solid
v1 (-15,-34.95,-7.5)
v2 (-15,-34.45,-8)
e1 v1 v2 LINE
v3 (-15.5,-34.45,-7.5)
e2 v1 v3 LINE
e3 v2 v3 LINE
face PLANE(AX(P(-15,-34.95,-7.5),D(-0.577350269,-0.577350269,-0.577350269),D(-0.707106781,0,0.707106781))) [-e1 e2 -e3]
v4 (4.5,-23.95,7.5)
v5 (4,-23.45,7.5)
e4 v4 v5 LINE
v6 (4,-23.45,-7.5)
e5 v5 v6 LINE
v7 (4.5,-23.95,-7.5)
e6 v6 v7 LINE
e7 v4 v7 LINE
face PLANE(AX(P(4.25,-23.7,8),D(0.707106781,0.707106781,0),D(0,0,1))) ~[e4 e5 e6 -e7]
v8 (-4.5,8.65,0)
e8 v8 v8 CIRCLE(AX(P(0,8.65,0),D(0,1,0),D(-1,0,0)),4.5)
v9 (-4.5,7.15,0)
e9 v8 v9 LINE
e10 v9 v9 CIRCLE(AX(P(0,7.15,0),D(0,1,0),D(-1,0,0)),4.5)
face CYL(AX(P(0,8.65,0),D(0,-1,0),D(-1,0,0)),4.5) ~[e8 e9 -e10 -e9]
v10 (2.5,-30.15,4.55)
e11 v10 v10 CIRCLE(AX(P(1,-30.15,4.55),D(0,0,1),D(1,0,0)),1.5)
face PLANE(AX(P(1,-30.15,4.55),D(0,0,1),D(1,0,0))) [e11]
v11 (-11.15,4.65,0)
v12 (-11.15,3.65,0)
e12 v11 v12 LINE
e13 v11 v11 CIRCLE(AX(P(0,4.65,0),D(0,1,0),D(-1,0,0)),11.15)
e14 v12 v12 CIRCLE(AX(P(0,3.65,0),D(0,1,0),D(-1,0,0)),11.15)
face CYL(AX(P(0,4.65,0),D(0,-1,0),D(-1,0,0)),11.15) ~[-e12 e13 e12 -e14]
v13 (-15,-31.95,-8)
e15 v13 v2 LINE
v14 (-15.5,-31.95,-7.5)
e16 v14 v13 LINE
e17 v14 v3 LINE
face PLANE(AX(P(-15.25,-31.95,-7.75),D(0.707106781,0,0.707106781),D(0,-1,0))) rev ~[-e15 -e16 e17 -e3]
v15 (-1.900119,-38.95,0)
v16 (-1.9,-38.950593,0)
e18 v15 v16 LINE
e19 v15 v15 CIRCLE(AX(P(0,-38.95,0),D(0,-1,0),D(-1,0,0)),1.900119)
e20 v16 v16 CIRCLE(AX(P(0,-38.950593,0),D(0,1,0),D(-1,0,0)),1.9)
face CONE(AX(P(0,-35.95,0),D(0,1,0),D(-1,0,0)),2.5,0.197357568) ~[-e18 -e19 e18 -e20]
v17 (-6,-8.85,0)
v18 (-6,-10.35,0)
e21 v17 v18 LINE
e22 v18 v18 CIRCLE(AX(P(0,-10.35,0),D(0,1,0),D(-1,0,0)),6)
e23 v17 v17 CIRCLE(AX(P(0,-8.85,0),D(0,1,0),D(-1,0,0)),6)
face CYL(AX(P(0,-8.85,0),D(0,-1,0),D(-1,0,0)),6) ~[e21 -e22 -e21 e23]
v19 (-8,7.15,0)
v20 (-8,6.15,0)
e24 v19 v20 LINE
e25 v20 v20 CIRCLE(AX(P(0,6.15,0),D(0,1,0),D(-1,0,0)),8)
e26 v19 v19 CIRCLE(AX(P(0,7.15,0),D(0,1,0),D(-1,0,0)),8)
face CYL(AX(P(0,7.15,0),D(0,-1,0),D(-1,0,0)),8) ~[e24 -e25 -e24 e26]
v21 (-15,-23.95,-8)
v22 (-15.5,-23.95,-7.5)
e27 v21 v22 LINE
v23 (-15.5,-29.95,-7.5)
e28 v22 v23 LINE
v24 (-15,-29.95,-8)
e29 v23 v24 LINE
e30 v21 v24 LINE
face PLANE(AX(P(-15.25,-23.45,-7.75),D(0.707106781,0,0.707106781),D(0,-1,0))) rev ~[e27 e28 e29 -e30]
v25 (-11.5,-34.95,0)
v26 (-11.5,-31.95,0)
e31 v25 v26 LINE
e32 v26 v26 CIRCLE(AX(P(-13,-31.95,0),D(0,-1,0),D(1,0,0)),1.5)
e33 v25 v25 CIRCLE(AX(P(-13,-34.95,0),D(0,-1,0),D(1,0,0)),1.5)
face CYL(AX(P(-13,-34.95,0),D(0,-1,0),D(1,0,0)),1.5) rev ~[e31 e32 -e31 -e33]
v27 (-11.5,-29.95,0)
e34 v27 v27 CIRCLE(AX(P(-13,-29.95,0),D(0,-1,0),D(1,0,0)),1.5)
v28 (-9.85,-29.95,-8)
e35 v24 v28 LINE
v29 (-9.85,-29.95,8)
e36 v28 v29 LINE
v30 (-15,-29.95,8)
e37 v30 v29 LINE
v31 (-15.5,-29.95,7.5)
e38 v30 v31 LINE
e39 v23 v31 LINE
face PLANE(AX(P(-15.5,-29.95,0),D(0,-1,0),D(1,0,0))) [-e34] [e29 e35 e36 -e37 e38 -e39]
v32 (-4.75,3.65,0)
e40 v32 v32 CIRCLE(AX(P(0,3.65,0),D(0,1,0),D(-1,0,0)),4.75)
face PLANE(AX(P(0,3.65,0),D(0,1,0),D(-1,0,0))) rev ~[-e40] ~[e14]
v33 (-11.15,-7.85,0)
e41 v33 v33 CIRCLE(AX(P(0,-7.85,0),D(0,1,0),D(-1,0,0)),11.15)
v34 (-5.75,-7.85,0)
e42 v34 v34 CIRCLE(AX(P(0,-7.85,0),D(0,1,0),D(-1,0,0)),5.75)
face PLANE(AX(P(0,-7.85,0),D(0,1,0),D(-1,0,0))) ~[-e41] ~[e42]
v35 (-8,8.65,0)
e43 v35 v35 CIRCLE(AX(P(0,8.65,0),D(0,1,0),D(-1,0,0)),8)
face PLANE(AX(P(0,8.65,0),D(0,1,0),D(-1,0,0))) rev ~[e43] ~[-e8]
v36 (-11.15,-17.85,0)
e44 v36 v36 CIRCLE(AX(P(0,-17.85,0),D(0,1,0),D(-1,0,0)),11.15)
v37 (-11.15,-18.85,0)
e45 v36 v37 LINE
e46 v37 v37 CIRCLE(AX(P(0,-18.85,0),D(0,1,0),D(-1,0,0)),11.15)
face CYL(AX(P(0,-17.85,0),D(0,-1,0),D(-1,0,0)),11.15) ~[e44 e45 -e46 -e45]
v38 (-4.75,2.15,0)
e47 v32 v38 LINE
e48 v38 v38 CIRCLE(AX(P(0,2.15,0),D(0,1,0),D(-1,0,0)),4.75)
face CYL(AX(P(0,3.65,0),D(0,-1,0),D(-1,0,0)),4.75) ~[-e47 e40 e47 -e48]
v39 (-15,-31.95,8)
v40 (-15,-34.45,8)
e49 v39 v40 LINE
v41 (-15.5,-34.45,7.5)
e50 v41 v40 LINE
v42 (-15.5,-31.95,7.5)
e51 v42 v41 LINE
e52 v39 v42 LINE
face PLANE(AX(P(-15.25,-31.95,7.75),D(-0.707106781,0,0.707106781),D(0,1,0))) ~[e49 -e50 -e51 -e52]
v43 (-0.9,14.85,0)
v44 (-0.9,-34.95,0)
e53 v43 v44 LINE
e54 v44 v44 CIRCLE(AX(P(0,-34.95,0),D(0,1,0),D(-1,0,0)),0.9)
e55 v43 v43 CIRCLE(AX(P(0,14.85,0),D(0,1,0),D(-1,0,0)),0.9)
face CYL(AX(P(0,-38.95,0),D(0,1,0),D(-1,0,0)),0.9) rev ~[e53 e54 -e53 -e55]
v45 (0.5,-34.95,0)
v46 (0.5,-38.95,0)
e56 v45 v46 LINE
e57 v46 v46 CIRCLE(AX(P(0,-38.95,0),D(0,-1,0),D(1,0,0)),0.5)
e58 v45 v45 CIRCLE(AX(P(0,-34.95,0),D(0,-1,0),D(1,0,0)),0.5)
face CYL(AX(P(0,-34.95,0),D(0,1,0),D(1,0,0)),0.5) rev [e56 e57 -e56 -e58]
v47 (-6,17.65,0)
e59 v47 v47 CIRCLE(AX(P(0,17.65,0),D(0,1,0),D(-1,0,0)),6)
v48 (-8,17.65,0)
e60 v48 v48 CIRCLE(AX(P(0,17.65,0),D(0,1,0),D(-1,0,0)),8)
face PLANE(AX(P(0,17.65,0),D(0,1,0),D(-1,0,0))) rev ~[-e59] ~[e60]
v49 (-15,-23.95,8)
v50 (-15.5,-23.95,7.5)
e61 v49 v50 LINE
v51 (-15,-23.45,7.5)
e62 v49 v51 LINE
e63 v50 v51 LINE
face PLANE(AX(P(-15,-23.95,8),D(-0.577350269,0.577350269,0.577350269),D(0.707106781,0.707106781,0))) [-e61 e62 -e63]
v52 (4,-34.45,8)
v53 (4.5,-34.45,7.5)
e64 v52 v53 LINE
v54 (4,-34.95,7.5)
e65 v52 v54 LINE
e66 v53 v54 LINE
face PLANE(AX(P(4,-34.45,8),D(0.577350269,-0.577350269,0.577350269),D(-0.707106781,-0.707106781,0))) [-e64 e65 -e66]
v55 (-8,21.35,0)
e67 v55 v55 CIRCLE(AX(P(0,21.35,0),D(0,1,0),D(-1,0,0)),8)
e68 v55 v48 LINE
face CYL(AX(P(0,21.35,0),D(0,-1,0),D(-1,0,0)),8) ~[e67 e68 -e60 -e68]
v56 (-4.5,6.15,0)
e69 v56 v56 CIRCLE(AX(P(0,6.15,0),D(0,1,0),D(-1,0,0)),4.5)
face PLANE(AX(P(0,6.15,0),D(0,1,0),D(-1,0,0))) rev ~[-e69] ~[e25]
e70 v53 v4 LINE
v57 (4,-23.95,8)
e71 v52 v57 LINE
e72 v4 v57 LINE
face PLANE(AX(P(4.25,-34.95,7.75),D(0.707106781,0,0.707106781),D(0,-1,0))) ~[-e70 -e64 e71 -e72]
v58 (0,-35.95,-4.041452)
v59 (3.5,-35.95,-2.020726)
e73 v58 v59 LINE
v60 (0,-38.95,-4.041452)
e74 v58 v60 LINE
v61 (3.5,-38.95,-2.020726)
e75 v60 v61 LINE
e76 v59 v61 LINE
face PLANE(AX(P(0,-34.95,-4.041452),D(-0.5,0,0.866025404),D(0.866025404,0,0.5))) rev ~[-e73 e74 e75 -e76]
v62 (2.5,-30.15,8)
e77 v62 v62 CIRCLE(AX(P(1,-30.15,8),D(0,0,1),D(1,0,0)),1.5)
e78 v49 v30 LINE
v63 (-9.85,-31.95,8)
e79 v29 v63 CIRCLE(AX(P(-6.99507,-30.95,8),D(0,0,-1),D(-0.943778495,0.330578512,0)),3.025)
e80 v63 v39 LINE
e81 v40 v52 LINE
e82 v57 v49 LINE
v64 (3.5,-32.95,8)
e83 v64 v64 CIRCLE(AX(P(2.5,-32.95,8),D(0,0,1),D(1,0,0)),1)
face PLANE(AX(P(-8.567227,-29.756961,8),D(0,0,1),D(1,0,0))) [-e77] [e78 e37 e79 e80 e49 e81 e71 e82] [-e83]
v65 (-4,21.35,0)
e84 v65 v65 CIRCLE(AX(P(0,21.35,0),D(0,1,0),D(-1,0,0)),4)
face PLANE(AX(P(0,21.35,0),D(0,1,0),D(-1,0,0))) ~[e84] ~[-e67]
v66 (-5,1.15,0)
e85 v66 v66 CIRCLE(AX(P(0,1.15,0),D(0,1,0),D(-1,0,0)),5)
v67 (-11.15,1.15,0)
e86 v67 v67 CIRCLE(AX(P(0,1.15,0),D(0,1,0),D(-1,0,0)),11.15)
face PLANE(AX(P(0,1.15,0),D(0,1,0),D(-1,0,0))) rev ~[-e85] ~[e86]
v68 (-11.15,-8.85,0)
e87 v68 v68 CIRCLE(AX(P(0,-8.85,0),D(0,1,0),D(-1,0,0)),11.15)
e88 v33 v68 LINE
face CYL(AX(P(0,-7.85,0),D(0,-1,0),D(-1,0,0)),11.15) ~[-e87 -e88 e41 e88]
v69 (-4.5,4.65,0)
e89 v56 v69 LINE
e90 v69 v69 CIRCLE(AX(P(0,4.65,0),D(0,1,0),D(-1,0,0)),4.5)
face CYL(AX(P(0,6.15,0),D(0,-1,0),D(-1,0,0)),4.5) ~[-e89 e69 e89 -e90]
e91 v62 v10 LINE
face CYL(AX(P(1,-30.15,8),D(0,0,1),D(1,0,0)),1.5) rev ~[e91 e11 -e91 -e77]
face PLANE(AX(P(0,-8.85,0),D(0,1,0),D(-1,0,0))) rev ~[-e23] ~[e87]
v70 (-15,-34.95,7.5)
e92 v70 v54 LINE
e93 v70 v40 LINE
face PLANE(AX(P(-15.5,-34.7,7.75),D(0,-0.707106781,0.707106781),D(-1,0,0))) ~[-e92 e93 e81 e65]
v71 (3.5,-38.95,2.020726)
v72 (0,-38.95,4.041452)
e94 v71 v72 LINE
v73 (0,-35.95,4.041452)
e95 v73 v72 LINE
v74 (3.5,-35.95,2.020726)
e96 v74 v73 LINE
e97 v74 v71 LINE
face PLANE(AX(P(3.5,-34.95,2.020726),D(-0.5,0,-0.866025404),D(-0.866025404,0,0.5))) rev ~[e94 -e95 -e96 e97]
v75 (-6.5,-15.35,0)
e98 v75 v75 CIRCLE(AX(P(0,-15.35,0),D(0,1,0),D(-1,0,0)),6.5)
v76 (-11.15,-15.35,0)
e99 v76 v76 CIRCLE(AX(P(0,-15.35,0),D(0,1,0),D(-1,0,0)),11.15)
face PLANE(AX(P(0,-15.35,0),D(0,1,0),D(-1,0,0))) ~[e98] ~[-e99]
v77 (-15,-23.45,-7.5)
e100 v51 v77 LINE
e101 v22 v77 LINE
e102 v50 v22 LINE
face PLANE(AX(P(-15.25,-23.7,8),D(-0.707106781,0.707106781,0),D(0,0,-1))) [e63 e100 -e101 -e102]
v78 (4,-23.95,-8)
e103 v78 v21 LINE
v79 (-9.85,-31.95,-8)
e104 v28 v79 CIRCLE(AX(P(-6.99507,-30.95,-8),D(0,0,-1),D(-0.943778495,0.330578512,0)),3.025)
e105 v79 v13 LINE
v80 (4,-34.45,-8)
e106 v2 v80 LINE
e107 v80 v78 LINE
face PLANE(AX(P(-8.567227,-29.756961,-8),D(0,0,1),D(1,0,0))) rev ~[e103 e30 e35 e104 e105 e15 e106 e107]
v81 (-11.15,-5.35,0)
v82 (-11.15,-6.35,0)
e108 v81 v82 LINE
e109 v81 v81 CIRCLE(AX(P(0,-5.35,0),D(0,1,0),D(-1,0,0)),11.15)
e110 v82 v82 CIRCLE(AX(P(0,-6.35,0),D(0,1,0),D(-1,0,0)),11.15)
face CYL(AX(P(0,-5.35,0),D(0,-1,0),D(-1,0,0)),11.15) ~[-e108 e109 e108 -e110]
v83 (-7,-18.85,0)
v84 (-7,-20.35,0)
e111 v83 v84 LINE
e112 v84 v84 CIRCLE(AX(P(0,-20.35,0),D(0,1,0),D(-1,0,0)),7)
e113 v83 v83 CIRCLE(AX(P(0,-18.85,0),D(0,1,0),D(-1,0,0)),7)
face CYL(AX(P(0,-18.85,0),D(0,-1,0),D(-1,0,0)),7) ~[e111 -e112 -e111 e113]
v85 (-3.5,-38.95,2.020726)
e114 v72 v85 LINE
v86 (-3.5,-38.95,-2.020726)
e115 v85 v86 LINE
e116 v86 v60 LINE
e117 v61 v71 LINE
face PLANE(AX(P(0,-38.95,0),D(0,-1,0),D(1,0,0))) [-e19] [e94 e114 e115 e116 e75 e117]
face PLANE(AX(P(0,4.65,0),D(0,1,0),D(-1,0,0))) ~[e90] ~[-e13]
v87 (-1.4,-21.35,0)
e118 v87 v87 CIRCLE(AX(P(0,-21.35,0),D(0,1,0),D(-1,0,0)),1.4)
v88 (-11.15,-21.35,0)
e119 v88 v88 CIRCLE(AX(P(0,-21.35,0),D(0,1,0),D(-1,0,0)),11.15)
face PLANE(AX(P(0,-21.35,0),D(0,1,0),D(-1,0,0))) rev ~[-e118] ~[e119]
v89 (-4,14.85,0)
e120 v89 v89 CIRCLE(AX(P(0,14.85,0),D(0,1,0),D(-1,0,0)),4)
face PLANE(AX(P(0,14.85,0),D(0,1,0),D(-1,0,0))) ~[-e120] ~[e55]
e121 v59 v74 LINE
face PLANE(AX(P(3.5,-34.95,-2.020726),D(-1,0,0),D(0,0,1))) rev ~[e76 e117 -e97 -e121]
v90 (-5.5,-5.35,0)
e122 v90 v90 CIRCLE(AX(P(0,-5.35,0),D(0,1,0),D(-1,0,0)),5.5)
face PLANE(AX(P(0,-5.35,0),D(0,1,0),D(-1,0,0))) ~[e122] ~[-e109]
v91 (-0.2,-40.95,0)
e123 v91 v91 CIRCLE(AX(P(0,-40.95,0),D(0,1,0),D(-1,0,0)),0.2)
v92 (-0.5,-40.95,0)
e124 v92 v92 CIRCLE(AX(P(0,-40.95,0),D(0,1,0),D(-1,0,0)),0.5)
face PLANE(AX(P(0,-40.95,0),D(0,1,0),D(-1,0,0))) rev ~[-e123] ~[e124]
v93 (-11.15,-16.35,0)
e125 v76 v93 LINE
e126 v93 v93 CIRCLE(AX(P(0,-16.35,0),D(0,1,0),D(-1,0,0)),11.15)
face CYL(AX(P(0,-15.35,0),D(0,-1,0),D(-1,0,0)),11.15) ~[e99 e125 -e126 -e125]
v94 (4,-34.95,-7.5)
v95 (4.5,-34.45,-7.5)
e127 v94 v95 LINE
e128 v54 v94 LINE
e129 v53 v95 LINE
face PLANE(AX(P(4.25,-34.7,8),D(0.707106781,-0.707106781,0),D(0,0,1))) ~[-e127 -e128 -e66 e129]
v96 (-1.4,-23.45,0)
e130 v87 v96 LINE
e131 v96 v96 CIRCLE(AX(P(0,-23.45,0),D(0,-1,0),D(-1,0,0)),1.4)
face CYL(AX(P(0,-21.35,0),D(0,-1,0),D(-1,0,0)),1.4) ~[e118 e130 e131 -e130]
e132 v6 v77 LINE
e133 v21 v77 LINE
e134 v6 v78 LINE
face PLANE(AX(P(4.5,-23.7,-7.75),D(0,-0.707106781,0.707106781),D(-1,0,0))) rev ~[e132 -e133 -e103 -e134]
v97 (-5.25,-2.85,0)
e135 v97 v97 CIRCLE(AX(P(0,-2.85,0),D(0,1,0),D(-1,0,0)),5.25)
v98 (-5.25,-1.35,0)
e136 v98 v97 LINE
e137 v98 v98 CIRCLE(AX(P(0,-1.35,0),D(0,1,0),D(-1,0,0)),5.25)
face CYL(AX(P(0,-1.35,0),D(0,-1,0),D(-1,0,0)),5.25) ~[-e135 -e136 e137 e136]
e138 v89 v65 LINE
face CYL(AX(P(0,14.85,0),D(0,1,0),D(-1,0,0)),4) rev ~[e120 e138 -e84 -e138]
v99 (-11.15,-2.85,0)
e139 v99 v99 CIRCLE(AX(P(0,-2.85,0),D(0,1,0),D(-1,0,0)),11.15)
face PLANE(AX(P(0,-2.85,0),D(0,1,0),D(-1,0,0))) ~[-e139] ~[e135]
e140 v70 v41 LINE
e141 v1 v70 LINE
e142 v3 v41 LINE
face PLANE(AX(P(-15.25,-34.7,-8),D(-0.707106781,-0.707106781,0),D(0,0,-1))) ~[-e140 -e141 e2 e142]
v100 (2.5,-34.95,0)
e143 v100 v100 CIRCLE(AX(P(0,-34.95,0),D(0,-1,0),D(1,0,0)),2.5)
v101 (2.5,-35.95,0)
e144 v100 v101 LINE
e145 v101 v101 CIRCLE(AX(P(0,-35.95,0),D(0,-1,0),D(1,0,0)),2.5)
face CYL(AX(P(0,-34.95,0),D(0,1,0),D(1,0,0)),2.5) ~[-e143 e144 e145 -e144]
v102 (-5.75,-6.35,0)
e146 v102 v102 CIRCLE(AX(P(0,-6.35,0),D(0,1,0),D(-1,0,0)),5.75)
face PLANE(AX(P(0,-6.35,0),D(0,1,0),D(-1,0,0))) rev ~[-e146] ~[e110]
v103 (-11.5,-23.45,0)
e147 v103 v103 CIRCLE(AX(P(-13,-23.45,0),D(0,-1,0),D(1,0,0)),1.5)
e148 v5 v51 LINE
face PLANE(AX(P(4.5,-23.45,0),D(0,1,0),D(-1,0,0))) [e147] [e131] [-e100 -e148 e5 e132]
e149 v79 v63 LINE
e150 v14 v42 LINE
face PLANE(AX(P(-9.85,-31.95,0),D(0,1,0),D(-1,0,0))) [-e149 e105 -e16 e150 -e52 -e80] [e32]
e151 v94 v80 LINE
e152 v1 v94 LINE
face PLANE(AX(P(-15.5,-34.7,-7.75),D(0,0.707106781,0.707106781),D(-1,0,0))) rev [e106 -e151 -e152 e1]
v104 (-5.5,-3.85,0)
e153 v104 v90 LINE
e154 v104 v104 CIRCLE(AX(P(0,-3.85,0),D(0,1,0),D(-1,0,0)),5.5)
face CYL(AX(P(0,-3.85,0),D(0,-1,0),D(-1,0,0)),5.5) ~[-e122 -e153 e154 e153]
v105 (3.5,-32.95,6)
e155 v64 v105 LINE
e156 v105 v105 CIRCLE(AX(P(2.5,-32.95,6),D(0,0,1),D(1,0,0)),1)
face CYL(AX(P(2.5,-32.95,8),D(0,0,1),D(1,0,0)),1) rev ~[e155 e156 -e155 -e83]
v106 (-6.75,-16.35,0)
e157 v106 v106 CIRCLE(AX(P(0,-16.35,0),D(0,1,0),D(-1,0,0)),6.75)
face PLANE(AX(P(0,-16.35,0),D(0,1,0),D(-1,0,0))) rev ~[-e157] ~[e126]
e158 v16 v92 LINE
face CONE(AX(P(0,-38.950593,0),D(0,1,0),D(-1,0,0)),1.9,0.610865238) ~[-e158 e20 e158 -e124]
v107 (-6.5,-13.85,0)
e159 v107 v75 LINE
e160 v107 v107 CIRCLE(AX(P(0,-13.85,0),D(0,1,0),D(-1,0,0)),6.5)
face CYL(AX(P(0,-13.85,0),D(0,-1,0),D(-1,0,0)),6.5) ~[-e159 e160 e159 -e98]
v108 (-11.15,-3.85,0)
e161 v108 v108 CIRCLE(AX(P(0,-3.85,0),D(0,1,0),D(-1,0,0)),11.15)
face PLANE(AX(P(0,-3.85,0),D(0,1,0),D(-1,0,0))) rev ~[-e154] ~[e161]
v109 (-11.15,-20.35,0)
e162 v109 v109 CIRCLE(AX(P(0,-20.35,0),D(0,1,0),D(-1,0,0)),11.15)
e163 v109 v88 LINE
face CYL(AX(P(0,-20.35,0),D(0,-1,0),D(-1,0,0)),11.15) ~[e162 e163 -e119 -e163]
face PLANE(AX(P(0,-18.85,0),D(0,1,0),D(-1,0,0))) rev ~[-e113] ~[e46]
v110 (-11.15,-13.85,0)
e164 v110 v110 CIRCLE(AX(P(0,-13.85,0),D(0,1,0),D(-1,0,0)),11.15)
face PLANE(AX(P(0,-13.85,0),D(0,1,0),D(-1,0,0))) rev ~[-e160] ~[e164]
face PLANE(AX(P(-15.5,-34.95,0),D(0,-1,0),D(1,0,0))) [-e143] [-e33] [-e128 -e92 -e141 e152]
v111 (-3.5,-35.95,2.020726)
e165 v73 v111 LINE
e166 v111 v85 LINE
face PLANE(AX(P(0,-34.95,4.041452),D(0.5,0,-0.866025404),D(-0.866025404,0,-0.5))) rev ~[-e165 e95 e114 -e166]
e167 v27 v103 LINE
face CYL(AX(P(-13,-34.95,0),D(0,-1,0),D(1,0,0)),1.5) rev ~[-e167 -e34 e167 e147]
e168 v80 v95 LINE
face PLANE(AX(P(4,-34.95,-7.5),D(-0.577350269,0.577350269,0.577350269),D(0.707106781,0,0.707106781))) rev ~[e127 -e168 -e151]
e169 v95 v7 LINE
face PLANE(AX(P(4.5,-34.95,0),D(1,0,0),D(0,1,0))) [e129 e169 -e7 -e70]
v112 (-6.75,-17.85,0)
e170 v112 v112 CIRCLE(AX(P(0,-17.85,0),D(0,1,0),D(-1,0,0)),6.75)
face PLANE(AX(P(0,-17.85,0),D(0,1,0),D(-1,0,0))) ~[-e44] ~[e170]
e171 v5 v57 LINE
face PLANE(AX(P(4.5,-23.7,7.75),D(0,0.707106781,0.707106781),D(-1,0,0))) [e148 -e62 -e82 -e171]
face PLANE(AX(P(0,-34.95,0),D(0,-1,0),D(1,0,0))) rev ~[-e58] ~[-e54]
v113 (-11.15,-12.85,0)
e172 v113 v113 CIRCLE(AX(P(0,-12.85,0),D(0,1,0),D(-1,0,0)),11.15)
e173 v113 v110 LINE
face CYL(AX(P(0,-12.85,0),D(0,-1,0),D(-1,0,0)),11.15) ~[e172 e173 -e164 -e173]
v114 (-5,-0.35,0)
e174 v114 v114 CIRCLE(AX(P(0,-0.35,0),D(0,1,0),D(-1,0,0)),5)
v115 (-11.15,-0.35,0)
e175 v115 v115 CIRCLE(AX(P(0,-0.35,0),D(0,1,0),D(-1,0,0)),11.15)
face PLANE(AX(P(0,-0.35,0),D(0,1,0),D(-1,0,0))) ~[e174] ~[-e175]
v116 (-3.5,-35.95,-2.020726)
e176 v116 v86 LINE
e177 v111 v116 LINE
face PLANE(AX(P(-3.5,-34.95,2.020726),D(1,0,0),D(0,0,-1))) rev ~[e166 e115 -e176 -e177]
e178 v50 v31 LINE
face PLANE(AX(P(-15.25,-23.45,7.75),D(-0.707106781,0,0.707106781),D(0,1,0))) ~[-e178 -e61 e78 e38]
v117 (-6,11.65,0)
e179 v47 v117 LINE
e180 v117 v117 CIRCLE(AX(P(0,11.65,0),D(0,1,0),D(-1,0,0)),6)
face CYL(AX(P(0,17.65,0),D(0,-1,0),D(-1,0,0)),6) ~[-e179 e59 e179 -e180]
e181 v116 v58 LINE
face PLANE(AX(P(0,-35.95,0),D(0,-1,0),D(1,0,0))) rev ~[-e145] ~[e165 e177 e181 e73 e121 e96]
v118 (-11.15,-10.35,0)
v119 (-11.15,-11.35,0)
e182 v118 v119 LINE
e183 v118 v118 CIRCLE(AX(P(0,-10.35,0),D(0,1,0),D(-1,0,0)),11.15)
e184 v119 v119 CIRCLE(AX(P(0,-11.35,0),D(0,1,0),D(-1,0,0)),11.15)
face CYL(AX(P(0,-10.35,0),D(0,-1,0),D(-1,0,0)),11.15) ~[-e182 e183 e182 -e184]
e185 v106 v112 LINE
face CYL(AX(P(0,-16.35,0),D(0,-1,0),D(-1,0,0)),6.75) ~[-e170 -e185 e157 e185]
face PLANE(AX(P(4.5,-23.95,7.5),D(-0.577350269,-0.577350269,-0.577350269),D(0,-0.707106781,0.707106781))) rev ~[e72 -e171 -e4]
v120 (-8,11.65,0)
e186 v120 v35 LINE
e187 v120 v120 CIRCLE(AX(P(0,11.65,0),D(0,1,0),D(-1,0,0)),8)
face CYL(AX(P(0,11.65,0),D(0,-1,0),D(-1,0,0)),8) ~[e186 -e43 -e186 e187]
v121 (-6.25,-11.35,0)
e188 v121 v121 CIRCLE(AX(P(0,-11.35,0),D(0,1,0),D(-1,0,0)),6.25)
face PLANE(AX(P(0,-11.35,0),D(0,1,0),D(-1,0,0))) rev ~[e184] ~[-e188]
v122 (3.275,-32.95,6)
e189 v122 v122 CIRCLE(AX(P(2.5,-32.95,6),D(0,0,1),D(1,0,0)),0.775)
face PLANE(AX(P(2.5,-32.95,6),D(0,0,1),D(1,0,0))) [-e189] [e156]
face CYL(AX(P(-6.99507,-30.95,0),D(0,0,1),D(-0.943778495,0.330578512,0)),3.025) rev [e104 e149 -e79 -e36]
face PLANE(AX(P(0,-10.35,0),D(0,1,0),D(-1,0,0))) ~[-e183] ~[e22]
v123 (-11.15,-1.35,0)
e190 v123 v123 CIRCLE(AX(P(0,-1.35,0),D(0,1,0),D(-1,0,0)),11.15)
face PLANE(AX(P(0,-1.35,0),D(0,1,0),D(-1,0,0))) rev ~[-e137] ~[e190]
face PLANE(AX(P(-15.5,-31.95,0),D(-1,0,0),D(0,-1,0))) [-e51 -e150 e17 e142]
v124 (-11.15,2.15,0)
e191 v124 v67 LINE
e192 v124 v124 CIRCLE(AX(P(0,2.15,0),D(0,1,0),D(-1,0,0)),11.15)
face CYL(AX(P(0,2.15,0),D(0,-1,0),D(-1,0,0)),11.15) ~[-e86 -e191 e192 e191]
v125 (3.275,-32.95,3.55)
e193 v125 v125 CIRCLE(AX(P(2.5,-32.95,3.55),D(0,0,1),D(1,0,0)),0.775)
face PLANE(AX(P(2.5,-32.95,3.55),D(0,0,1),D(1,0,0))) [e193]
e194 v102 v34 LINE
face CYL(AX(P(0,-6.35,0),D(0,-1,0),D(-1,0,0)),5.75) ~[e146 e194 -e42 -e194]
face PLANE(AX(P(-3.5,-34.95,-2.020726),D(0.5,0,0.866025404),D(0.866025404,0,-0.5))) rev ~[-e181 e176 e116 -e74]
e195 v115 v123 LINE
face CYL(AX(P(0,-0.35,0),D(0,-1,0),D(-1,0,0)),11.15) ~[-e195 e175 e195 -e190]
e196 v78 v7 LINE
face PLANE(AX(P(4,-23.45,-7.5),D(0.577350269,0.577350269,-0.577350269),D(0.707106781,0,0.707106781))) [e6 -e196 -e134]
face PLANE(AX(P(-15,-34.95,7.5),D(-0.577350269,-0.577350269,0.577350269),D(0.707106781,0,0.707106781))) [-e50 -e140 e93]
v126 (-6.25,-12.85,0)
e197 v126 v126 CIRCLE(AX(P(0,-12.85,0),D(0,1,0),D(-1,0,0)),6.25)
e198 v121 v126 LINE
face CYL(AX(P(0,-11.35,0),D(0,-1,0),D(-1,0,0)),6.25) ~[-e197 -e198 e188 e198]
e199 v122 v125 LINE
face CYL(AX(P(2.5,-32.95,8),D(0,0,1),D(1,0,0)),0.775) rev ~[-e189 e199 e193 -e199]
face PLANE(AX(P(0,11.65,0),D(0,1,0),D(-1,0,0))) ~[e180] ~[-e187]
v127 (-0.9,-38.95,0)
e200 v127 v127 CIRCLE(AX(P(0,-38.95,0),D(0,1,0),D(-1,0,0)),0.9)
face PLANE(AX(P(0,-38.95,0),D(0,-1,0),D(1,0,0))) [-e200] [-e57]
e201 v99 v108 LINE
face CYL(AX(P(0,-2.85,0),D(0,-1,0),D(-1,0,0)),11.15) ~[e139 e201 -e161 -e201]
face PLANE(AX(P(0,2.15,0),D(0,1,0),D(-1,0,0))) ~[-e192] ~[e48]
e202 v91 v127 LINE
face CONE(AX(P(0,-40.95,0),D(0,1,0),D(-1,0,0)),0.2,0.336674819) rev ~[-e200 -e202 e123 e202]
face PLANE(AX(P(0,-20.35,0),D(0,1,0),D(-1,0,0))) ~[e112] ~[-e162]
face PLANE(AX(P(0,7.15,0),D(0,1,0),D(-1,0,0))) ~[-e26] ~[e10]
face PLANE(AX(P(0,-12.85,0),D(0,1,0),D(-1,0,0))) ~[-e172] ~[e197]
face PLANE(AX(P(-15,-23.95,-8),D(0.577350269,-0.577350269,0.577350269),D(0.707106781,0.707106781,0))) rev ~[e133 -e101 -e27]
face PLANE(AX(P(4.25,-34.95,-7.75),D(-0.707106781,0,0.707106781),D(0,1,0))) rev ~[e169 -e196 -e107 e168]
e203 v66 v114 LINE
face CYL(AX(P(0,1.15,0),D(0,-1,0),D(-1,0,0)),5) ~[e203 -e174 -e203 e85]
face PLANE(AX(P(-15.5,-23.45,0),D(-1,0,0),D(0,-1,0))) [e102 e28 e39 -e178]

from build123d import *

# Parameters (mm, degrees)
F0_W          = 4.5
F0_H          = 11.5
F0_W_2        = 0.5
F0_W_3        = 0.9
F1_DEPTH      = 8
F1_DEPTH_BACK = 8
F4_SIZE       = 0.5
F5_R          = 1.5
F6_DEPTH      = 3.45
F5_R_2        = 0.775
F7_DEPTH      = 4.45
F5_R_3        = 1
F8_DEPTH      = 2
F9_R          = 1.5
F10_DEPTH     = 11.6
F9_R_2        = 2.5
F9_R_3        = 0.5
F11_DEPTH     = 4
F12_DEPTH     = 1


with BuildPart() as f1:
    # F0 (on Top) → F1 (new body, two sides)
    with BuildSketch(Plane.XY) as f1_sk:
        with BuildLine():
            Line((-1.4, -34.95), (-1.4, -23.45))
            Line((-1.4, -23.45), (-15.5, -23.45))
            Line((-15.5, -23.45), (-15.5, -29.95))
            Line((-15.5, -29.95), (-9.85, -29.95))
            ThreePointArc((-9.85, -29.95), (-3.9700700534, -30.95), (-9.85, -31.95))
            Line((-9.85, -31.95), (-15.5, -31.95))
            Line((-15.5, -31.95), (-15.5, -34.95))
            Line((-15.5, -34.95), (-2.5, -34.95))
            Line((-2.5, -34.95), (-1.4, -34.95))
        make_face()
        with Locations((2.25, -29.2)):
            Rectangle(F0_W, F0_H)
        with Locations((-1.15, -29.2)):
            Rectangle(F0_W_2, F0_H)
        with Locations((-0.45, -29.2)):
            Rectangle(F0_W_3, F0_H)
    extrude(amount=F1_DEPTH)
    extrude(f1_sk.sketch, amount=-F1_DEPTH_BACK)

    # F0 (on Top) → F2 (revolve)
    with BuildSketch(Plane.XY):
        with Locations((-1.15, -29.2)):
            Rectangle(F0_W_2, F0_H)
        Polygon((-0.9, -38.95), (-0.9, -34.95), (-1.4, -34.95), (-2.5, -34.95), (-2.5, -35.95), (-1.9, -38.9505927906), (-0.5, -40.95), (-0.2, -40.95), align=None)
        Polygon((-0.9, -23.45), (-0.9, 14.85), (-4, 14.85), (-4, 21.35), (-8, 21.35), (-8, 17.65), (-6, 17.65), (-6, 11.65), (-8, 11.65), (-8, 8.65), (-4.5, 8.65), (-4.5, 7.15), (-8, 7.15), (-8, 6.15), (-4.5, 6.15), (-4.5, 4.65), (-11.15, 4.65), (-11.15, 3.65), (-4.75, 3.65), (-4.75, 2.15), (-11.15, 2.15), (-11.15, 1.15), (-5, 1.15), (-5, -0.35), (-11.15, -0.35), (-11.15, -1.35), (-5.25, -1.35), (-5.25, -2.85), (-11.15, -2.85), (-11.15, -3.85), (-5.5, -3.85), (-5.5, -5.35), (-11.15, -5.35), (-11.15, -6.35), (-5.75, -6.35), (-5.75, -7.85), (-11.15, -7.85), (-11.15, -8.85), (-6, -8.85), (-6, -10.35), (-11.15, -10.35), (-11.15, -11.35), (-6.25, -11.35), (-6.25, -12.85), (-11.15, -12.85), (-11.15, -13.85), (-6.5, -13.85), (-6.5, -15.35), (-11.15, -15.35), (-11.15, -16.35), (-6.75, -16.35), (-6.75, -17.85), (-11.15, -17.85), (-11.15, -18.85), (-7, -18.85), (-7, -20.35), (-11.15, -20.35), (-11.15, -21.35), (-1.4, -21.35), (-1.4, -23.45), align=None)
    revolve(axis=Axis((0, 15, 0), (0, 1, 0)))

    # F0 (on Top) → F3 (revolve, cut)
    with BuildSketch(Plane.XY):
        with Locations((-0.45, -29.2)):
            Rectangle(F0_W_3, F0_H)
    revolve(axis=Axis((0, 15, 0), (0, 1, 0)), mode=Mode.SUBTRACT)

    # F4
    f4_edges = [f1.edges().sort_by_distance(p)[0] for p in [
        (-15.5, -23.45, 0),
        (-15.5, -26.7, 8),
        (-5.5, -23.45, 8),
        (-15.5, -26.7, -8),
        (-15.5, -33.45, -8),
        (-15.5, -33.45, 8),
        (4.5, -29.2, -8),
        (-5.5, -23.45, -8),
        (-5.5, -34.95, -8),
        (-15.5, -34.95, 0),
        (4.5, -23.45, 0),
        (4.5, -34.95, 0),
        (4.5, -29.2, 8),
        (-5.5, -34.95, 8),
    ]]
    chamfer(f4_edges, length=F4_SIZE)

    # F5 (on face) → F6 (cut)
    with BuildSketch(Plane.XY.offset(8)):
        with Locations((1, -30.15)):
            Circle(F5_R)
    extrude(amount=-F6_DEPTH, mode=Mode.SUBTRACT)

    # F5 (on face) → F7 (cut)
    with BuildSketch(Plane.XY.offset(8)):
        with Locations((2.5, -32.95)):
            Circle(F5_R_2)
    extrude(amount=-F7_DEPTH, mode=Mode.SUBTRACT)

    # F5 (on face) → F8 (cut)
    with BuildSketch(Plane.XY.offset(8)):
        with Locations((2.5, -32.95)):
            Circle(F5_R_3)
        with Locations((2.5, -32.95)):
            Circle(F5_R_2, mode=Mode.SUBTRACT)
    extrude(amount=-F8_DEPTH, mode=Mode.SUBTRACT)

    # F9 (on face) → F10 (cut)
    with BuildSketch(Plane.XZ.offset(34.95)):
        with Locations((-13, 0)):
            Circle(F9_R)
    extrude(amount=-F10_DEPTH, mode=Mode.SUBTRACT)

    # F9 (on face) → F11 (join)
    with BuildSketch(Plane.XZ.offset(34.95)):
        Polygon((3.5, -2.0207259422), (3.5, 2.0207259422), (0, 4.0414518843), (-3.5, 2.0207259422), (-3.5, -2.0207259422), (0, -4.0414518843), align=None)
        Circle(F9_R_2, mode=Mode.SUBTRACT)
        Circle(F9_R_2)
        Circle(F9_R_3, mode=Mode.SUBTRACT)
    extrude(amount=F11_DEPTH)

    # F9 (on face) → F12 (cut)
    with BuildSketch(Plane.XZ.offset(34.95)):
        Polygon((3.5, -2.0207259422), (3.5, 2.0207259422), (0, 4.0414518843), (-3.5, 2.0207259422), (-3.5, -2.0207259422), (0, -4.0414518843), align=None)
        Circle(F9_R_2, mode=Mode.SUBTRACT)
    extrude(amount=F12_DEPTH, mode=Mode.SUBTRACT)


solid = f1.part
